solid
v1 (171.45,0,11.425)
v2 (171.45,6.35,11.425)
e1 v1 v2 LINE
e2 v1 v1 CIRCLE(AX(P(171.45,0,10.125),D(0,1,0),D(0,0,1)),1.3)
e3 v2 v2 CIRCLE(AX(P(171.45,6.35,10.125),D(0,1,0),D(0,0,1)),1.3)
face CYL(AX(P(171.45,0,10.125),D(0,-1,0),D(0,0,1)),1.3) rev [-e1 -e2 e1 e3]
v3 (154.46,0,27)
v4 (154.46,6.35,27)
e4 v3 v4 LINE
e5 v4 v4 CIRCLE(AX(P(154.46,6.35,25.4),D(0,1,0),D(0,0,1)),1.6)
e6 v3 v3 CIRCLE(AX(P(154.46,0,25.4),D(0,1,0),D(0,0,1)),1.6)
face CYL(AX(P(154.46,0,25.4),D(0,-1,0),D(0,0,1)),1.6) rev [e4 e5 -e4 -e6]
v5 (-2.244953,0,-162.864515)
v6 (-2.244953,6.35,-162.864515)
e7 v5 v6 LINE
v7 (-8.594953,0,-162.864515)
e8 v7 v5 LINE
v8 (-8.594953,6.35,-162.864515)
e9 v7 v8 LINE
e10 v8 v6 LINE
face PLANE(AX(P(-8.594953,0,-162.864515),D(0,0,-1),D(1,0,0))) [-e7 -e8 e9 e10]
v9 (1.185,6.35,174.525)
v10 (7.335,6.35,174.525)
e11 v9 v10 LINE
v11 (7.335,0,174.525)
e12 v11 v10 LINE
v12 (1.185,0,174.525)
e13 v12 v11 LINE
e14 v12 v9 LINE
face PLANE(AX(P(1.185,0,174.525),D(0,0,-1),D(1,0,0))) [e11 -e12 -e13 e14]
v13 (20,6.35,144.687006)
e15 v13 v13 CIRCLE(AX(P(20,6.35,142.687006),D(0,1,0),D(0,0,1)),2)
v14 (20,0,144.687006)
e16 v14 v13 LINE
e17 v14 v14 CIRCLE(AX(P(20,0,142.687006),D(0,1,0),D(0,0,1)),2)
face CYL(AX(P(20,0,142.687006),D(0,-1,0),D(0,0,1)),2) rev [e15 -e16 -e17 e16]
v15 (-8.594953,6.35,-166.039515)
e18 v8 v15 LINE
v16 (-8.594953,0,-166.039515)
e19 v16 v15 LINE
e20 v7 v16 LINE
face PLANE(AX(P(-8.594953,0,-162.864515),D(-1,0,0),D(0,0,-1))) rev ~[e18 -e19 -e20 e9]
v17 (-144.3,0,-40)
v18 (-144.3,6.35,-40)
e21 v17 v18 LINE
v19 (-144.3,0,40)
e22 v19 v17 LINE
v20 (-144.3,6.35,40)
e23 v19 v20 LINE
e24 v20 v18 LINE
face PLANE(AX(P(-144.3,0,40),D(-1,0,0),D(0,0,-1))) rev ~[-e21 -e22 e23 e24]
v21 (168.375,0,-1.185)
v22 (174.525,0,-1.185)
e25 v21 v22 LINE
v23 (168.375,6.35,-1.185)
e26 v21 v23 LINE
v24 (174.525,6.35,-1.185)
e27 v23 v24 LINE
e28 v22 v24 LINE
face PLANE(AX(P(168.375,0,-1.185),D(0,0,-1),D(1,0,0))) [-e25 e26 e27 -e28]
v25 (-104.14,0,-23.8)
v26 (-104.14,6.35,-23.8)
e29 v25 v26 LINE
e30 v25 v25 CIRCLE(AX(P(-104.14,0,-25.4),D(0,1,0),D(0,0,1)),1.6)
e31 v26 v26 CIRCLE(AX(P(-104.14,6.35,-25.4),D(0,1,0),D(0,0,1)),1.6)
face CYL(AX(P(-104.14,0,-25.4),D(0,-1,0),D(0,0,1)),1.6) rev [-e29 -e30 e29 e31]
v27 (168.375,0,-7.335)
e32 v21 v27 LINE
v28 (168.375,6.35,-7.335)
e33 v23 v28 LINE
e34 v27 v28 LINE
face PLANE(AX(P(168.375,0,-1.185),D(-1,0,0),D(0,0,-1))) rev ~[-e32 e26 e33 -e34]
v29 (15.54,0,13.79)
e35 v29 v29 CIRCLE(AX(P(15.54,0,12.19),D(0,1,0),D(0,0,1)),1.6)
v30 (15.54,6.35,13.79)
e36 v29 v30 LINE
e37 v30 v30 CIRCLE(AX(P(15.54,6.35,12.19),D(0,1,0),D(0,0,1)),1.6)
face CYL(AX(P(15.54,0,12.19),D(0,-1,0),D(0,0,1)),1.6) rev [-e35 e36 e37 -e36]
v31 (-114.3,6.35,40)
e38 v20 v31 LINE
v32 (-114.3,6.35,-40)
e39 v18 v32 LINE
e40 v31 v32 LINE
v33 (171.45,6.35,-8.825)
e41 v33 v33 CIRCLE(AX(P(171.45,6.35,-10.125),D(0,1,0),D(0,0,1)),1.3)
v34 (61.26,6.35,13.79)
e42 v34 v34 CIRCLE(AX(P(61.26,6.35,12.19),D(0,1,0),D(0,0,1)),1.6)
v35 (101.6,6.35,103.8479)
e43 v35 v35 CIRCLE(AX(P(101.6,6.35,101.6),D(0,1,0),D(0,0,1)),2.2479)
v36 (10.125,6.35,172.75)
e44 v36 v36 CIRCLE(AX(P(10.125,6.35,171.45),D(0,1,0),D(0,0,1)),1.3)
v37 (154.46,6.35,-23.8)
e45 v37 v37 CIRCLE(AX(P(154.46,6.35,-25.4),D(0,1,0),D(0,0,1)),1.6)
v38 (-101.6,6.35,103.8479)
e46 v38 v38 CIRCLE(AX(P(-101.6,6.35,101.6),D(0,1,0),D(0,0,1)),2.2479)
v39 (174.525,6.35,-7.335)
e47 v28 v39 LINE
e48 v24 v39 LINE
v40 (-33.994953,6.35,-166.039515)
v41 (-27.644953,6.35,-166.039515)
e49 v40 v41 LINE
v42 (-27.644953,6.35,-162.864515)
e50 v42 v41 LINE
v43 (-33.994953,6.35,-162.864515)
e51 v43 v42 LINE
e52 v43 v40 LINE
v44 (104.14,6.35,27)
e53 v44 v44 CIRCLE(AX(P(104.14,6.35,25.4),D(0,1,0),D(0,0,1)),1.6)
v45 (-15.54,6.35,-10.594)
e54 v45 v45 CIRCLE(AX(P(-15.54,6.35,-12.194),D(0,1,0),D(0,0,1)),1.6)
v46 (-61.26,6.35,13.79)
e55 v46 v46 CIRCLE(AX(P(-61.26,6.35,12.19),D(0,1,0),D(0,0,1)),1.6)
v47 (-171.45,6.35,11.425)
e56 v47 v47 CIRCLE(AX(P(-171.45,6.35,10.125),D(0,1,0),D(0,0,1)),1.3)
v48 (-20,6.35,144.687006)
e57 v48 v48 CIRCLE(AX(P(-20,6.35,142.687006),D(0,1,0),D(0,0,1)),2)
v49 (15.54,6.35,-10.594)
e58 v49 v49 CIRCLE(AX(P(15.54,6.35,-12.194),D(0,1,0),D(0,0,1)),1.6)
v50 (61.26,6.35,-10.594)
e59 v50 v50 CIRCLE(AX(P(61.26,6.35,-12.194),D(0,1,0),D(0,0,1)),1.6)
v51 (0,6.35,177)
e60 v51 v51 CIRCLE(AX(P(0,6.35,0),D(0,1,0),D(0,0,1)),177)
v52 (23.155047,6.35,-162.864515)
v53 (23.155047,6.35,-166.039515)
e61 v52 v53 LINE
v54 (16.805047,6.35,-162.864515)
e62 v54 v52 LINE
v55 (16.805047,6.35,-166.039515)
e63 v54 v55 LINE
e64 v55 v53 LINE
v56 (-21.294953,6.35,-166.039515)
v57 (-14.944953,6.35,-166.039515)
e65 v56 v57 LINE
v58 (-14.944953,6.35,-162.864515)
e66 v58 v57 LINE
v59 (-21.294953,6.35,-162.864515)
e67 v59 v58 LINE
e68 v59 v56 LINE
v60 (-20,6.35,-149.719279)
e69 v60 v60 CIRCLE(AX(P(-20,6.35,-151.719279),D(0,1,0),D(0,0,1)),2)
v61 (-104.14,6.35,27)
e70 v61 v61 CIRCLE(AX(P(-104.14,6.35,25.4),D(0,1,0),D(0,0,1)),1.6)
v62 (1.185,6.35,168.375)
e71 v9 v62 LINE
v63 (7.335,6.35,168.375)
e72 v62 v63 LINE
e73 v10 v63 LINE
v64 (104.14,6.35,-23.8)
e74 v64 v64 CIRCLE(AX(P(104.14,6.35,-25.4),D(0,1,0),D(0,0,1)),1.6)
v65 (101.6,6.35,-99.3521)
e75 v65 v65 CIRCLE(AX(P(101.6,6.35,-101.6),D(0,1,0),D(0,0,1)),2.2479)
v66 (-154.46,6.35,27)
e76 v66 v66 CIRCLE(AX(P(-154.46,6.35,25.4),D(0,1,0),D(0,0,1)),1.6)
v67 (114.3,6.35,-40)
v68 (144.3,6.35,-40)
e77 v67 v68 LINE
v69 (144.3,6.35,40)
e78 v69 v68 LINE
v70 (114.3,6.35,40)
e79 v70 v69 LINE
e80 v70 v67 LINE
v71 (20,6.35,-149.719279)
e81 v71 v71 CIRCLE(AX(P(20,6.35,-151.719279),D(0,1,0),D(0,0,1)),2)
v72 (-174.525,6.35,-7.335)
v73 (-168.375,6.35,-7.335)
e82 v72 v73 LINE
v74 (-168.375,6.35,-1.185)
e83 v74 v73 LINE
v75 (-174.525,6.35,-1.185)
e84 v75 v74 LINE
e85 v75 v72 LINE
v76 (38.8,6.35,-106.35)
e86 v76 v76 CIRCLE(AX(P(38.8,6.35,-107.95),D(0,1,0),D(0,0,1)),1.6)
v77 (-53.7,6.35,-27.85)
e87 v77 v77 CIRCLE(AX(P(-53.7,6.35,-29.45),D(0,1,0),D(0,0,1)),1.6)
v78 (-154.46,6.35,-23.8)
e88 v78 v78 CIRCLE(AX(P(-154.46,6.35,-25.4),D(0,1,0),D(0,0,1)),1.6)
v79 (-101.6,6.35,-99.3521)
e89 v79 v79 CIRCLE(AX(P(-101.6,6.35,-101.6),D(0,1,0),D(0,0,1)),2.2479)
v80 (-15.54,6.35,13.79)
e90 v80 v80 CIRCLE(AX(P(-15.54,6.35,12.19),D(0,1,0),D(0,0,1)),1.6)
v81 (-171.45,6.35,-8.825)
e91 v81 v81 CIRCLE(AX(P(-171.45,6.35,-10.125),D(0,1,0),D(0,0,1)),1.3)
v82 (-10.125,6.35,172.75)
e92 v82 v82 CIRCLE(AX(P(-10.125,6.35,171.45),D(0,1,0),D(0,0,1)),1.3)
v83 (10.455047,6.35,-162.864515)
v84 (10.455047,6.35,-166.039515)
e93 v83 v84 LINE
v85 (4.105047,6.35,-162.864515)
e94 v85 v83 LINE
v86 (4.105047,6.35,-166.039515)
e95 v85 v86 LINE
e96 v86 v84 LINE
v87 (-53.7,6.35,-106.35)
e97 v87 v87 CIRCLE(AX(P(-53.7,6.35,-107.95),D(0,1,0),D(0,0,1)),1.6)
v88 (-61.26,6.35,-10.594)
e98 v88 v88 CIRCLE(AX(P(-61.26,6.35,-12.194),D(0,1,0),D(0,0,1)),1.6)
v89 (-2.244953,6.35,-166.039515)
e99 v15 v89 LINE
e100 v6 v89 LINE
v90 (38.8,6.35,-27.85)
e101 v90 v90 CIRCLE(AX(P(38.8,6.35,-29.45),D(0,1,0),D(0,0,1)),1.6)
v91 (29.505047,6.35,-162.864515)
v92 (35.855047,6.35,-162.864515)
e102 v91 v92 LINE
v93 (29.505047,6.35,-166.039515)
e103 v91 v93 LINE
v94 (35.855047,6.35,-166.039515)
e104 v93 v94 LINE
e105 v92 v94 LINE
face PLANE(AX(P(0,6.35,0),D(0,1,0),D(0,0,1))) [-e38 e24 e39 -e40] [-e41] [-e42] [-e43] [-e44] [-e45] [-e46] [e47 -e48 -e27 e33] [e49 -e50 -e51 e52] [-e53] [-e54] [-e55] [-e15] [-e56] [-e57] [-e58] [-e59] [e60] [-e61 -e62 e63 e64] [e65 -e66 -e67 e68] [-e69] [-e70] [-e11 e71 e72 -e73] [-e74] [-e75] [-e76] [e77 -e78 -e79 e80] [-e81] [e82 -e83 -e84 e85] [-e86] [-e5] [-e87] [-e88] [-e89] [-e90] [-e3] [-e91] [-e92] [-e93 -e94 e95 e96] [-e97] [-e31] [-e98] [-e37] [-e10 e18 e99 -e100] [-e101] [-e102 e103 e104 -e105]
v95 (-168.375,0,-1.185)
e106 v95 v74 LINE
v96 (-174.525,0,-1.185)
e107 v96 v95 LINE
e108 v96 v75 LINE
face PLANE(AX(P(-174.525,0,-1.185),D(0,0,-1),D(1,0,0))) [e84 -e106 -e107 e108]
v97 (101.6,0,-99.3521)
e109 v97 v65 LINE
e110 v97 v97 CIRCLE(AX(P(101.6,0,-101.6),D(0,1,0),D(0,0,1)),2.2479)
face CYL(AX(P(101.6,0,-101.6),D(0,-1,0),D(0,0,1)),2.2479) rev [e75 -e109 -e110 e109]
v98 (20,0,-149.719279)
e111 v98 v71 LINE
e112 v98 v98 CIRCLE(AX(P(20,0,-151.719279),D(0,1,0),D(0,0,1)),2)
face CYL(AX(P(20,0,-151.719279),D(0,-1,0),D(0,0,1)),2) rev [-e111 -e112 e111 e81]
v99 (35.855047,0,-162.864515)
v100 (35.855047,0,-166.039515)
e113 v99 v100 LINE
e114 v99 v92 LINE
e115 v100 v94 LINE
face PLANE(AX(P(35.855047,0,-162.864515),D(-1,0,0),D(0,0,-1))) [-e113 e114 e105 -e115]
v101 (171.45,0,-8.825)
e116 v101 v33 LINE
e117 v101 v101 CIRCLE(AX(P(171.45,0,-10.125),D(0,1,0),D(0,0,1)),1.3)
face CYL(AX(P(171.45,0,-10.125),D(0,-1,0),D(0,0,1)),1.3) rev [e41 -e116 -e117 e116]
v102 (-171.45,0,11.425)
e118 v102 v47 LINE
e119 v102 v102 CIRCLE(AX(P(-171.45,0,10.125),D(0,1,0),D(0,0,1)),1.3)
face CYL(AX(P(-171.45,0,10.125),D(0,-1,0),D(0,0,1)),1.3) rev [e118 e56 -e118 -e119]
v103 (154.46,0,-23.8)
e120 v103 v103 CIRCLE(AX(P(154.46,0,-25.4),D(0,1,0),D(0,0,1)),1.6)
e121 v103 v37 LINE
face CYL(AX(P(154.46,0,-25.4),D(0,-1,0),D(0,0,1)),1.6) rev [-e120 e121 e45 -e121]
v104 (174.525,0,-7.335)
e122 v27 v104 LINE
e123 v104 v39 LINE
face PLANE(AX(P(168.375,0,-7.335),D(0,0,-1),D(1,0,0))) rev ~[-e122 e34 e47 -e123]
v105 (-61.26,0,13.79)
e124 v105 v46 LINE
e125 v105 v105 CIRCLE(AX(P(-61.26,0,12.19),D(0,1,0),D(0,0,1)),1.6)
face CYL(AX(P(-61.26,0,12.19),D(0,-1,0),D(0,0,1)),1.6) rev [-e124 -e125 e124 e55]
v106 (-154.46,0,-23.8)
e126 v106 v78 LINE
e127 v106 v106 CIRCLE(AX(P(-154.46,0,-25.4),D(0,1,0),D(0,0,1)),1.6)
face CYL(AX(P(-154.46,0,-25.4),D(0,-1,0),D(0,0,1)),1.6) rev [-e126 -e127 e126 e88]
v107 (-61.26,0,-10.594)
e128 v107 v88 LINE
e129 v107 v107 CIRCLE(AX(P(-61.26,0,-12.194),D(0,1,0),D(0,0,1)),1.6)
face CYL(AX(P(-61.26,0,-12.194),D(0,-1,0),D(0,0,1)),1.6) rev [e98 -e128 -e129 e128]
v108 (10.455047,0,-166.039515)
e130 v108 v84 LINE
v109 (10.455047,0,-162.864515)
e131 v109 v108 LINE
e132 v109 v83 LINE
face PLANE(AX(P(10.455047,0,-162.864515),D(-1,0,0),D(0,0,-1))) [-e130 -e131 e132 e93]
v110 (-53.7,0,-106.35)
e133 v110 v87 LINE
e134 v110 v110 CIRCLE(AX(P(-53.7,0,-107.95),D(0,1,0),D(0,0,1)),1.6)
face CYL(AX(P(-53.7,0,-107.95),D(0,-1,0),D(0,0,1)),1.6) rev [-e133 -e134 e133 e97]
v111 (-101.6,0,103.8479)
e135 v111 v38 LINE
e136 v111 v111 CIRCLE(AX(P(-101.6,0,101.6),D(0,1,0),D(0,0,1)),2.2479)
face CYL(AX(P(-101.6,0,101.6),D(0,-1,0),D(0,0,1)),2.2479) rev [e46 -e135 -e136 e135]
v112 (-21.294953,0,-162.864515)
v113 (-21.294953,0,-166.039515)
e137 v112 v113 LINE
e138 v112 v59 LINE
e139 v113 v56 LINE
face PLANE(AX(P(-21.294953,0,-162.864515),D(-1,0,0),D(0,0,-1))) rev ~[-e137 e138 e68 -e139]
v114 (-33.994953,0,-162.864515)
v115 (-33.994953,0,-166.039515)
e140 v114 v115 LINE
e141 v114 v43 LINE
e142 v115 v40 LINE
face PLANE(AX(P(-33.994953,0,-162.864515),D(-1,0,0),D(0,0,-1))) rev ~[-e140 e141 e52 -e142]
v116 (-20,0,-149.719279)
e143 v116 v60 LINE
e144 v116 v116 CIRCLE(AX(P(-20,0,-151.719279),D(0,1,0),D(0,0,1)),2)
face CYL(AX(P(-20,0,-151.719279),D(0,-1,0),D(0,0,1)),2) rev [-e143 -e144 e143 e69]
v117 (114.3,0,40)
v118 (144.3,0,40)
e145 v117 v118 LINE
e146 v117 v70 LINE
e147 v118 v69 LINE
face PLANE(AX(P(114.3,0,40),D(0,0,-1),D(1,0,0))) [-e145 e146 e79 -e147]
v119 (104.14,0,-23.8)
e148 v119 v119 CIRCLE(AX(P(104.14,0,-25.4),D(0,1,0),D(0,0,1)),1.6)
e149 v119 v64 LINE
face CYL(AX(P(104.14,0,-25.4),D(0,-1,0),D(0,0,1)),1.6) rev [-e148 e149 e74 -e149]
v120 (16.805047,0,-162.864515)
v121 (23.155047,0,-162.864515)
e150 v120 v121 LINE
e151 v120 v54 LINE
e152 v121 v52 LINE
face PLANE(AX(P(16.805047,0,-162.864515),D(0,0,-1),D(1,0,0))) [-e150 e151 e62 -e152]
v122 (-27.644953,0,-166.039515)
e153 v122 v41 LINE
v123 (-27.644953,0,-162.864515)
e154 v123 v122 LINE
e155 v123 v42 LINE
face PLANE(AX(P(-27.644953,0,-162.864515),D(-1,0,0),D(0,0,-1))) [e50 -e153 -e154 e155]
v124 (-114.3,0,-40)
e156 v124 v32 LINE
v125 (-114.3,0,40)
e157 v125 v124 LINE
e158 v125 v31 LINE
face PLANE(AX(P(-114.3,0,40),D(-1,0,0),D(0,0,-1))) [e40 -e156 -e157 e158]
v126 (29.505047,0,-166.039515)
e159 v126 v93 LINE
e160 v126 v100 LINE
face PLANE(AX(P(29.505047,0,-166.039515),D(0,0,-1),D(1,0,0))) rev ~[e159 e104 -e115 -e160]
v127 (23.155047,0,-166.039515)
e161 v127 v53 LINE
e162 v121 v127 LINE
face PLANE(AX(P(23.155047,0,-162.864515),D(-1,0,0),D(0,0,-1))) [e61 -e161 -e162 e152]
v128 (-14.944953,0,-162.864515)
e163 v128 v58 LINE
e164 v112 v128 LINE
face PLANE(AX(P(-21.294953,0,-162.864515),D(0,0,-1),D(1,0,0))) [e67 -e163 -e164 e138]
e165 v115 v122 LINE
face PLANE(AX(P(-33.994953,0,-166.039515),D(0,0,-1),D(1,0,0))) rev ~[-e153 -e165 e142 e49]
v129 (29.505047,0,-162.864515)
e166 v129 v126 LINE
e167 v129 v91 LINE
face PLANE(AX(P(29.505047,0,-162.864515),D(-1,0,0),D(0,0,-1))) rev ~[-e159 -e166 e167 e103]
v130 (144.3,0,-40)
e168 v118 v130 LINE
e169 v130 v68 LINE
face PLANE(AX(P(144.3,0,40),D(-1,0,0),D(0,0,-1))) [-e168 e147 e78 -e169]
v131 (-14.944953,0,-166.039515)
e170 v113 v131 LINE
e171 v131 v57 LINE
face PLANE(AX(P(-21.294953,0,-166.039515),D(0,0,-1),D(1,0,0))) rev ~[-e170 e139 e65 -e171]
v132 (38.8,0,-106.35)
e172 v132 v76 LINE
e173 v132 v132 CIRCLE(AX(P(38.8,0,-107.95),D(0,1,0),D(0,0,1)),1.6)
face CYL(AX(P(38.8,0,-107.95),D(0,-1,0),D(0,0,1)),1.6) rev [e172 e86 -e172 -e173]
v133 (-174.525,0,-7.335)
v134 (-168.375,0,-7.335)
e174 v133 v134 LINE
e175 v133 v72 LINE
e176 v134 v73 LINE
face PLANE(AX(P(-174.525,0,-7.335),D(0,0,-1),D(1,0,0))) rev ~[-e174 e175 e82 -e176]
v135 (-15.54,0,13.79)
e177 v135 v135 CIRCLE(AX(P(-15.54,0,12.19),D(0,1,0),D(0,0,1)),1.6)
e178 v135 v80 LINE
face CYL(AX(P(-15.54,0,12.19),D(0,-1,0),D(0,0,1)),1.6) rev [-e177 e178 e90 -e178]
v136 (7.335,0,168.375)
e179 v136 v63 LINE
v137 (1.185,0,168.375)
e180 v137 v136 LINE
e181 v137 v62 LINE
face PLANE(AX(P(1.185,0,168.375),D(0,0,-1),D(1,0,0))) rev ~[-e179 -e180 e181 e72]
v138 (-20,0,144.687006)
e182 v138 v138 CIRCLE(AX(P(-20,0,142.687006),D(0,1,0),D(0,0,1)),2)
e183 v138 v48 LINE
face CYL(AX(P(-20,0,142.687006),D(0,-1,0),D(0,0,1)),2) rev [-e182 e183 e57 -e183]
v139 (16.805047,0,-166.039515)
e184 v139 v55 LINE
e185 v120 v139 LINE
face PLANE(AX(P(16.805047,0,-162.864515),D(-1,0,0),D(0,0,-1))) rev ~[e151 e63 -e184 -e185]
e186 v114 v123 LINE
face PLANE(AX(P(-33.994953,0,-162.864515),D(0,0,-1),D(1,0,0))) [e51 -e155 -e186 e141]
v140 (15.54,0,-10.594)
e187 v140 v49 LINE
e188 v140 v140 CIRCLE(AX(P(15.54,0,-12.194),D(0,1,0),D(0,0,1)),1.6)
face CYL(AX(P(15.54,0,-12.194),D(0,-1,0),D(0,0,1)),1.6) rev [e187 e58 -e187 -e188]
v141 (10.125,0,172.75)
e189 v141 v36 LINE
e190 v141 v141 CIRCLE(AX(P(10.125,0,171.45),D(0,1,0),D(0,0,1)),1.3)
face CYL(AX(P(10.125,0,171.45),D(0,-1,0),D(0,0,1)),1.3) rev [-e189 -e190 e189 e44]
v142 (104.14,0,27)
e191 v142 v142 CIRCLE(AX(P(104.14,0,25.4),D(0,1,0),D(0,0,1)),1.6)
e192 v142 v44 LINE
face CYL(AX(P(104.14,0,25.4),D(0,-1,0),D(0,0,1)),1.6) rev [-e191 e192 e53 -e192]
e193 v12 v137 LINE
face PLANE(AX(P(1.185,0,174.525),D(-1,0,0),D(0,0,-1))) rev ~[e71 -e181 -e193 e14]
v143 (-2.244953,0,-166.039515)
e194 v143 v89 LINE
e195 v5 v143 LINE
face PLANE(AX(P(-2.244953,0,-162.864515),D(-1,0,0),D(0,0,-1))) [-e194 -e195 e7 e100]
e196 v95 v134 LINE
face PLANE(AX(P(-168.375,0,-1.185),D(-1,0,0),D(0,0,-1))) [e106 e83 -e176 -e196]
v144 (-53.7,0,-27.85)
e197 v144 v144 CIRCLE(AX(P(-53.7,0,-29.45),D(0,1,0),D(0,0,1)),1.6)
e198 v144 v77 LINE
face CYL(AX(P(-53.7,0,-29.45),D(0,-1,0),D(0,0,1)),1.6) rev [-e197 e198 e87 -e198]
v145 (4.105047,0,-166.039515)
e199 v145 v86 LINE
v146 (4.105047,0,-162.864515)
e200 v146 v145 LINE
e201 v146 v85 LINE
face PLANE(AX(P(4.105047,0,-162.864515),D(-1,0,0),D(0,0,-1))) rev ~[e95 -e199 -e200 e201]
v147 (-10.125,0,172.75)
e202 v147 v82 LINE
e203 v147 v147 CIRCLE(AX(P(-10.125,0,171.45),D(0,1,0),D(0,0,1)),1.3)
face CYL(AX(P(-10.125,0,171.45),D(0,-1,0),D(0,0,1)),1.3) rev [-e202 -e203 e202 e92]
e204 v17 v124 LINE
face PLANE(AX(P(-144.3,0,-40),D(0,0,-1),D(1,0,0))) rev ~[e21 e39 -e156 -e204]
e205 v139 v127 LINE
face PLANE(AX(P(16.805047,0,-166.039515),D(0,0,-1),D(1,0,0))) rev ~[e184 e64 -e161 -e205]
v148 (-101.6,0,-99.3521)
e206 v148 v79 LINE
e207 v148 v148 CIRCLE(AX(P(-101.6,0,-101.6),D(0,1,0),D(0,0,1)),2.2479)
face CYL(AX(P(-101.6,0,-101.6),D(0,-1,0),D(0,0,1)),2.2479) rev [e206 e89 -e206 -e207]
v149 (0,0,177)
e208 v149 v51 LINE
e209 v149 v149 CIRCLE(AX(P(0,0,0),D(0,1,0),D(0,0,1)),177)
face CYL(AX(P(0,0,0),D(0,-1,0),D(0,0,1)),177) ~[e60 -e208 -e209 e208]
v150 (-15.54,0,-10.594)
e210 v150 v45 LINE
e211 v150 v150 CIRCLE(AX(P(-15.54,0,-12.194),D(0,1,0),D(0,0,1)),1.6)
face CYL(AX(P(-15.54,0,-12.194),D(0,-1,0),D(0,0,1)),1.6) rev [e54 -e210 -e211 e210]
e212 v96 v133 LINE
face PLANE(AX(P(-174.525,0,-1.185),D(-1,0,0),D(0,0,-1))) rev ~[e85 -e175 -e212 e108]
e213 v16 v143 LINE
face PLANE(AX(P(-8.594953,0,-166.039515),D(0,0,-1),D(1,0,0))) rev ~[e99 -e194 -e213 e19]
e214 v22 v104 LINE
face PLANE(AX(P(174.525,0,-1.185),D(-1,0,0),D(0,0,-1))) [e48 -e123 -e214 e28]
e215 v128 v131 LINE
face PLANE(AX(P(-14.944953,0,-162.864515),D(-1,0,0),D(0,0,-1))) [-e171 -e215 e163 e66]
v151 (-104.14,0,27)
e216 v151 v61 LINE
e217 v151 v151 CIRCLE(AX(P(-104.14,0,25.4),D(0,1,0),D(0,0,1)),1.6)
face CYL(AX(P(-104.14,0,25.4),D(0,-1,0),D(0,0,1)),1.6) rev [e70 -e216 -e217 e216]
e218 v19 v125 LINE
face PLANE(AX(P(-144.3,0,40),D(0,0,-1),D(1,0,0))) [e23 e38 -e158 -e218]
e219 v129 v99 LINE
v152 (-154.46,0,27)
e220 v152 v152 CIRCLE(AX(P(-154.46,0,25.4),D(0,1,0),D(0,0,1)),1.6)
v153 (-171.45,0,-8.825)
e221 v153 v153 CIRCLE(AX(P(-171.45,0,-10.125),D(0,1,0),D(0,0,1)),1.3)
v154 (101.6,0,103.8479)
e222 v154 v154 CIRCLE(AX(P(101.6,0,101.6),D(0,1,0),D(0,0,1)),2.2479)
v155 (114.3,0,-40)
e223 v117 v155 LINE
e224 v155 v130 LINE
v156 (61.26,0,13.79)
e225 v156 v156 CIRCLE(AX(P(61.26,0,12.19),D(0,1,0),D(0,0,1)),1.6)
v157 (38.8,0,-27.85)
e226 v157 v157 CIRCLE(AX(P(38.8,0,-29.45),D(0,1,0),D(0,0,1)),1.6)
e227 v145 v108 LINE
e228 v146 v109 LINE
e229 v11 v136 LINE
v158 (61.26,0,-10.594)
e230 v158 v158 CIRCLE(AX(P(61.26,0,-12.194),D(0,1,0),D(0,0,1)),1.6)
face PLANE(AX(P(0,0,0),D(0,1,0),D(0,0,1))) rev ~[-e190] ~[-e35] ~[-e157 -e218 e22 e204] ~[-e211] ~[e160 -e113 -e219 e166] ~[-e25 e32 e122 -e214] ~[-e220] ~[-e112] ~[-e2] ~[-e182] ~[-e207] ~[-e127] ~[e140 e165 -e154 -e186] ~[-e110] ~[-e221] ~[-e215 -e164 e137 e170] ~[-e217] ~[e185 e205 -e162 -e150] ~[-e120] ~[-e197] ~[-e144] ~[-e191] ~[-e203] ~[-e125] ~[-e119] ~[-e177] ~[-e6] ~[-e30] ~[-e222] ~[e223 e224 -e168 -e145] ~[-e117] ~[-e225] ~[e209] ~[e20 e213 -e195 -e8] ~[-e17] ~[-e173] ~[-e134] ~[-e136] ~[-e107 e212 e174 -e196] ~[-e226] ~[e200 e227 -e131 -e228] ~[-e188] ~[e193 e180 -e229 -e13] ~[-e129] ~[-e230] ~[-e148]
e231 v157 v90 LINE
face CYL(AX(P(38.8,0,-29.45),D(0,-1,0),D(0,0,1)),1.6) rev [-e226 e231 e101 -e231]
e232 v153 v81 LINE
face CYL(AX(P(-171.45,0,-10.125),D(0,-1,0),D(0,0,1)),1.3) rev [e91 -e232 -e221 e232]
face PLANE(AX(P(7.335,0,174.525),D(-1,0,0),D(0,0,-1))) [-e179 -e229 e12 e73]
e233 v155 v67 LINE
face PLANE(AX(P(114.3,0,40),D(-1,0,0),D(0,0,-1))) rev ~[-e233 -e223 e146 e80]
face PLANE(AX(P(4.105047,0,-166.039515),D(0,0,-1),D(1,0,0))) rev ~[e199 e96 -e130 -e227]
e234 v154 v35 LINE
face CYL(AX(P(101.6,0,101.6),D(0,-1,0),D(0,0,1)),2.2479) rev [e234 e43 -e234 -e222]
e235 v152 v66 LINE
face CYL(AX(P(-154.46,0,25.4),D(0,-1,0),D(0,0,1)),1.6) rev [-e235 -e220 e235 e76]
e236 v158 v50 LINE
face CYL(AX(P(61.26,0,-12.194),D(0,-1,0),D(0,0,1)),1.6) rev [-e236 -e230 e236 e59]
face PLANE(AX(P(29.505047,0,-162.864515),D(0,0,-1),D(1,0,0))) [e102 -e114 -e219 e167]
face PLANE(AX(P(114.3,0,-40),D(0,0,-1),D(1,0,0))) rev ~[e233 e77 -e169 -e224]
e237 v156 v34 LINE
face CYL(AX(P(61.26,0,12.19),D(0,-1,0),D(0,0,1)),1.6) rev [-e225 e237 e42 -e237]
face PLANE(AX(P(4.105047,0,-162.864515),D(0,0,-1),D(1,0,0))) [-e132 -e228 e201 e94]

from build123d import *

# Parameters (mm, degrees)
SKETCH1_R           = 177
SKETCH1_R_2         = 1.6
SKETCH1_R_3         = 2.2479
SKETCH1_R_4         = 2.000000064
SKETCH1_R_5         = 1.3
SKETCH1_R_6         = 1.29999994
SKETCH1_W           = 6.15
SKETCH1_H           = 6.15
SKETCH1_W_2         = 30
SKETCH1_H_2         = 80
SKETCH1_W_3         = 6.35
SKETCH1_H_3         = 3.175
BOSS_EXTRUDE1_DEPTH = 6.35


with BuildPart() as part:
    # Sketch1 → Boss-Extrude1 (new body)
    with BuildSketch(Plane(origin=(0, 0, 0), x_dir=(1, 0, 0), z_dir=(0, 1, 0))):
        with Locations(Location((0, 0, 0), (0, 0, 270))):
            Circle(SKETCH1_R)
        with Locations(Location((-154.46, 25.4, 0), (0, 0, 270))):
            Circle(SKETCH1_R_2, mode=Mode.SUBTRACT)
        with Locations(Location((-154.46, -25.4, 0), (0, 0, 270))):
            Circle(SKETCH1_R_2, mode=Mode.SUBTRACT)
        with Locations(Location((154.46, 25.4, 0), (0, 0, 270))):
            Circle(SKETCH1_R_2, mode=Mode.SUBTRACT)
        with Locations(Location((154.46, -25.4, 0), (0, 0, 270))):
            Circle(SKETCH1_R_2, mode=Mode.SUBTRACT)
        with Locations(Location((-104.14, 25.4, 0), (0, 0, 270))):
            Circle(SKETCH1_R_2, mode=Mode.SUBTRACT)
        with Locations(Location((-104.14, -25.4, 0), (0, 0, 270))):
            Circle(SKETCH1_R_2, mode=Mode.SUBTRACT)
        with Locations(Location((104.14, 25.4, 0), (0, 0, 270))):
            Circle(SKETCH1_R_2, mode=Mode.SUBTRACT)
        with Locations(Location((104.14, -25.4, 0), (0, 0, 270))):
            Circle(SKETCH1_R_2, mode=Mode.SUBTRACT)
        with Locations(Location((-53.7, 107.95, 0), (0, 0, 270))):
            Circle(SKETCH1_R_2, mode=Mode.SUBTRACT)
        with Locations(Location((38.8, 107.95, 0), (0, 0, 270))):
            Circle(SKETCH1_R_2, mode=Mode.SUBTRACT)
        with Locations(Location((-53.7, 29.45, 0), (0, 0, 270))):
            Circle(SKETCH1_R_2, mode=Mode.SUBTRACT)
        with Locations(Location((38.8, 29.45, 0), (0, 0, 270))):
            Circle(SKETCH1_R_2, mode=Mode.SUBTRACT)
        with Locations(Location((-101.6, -101.6, 0), (0, 0, 270))):
            Circle(SKETCH1_R_3, mode=Mode.SUBTRACT)
        with Locations(Location((101.6, -101.6, 0), (0, 0, 270))):
            Circle(SKETCH1_R_3, mode=Mode.SUBTRACT)
        with Locations(Location((-101.6, 101.6, 0), (0, 0, 270))):
            Circle(SKETCH1_R_3, mode=Mode.SUBTRACT)
        with Locations(Location((101.6, 101.6, 0), (0, 0, 270))):
            Circle(SKETCH1_R_3, mode=Mode.SUBTRACT)
        with Locations(Location((-20, -142.687006289, 0), (0, 0, 270))):
            Circle(SKETCH1_R_4, mode=Mode.SUBTRACT)
        with Locations(Location((20, -142.687006289, 0), (0, 0, 270))):
            Circle(SKETCH1_R_4, mode=Mode.SUBTRACT)
        with Locations(Location((-20, 151.719279026, 0), (0, 0, 270))):
            Circle(SKETCH1_R_4, mode=Mode.SUBTRACT)
        with Locations(Location((20, 151.719279026, 0), (0, 0, 270))):
            Circle(SKETCH1_R_4, mode=Mode.SUBTRACT)
        with Locations(Location((-10.125, -171.45, 0), (0, 0, 270))):
            Circle(SKETCH1_R_5, mode=Mode.SUBTRACT)
        with Locations(Location((10.125, -171.45, 0), (0, 0, 270))):
            Circle(SKETCH1_R_6, mode=Mode.SUBTRACT)
        with Locations(Location((171.45, -10.125, 0), (0, 0, 270))):
            Circle(SKETCH1_R_5, mode=Mode.SUBTRACT)
        with Locations(Location((171.45, 10.125, 0), (0, 0, 270))):
            Circle(SKETCH1_R_5, mode=Mode.SUBTRACT)
        with Locations(Location((-171.45, -10.125, 0), (0, 0, 270))):
            Circle(SKETCH1_R_5, mode=Mode.SUBTRACT)
        with Locations(Location((-171.45, 10.125, 0), (0, 0, 270))):
            Circle(SKETCH1_R_5, mode=Mode.SUBTRACT)
        with Locations(Location((-61.26, 12.194, 0), (0, 0, 270))):
            Circle(SKETCH1_R_2, mode=Mode.SUBTRACT)
        with Locations(Location((-61.26, -12.19, 0), (0, 0, 270))):
            Circle(SKETCH1_R_2, mode=Mode.SUBTRACT)
        with Locations(Location((-15.54, 12.194, 0), (0, 0, 270))):
            Circle(SKETCH1_R_2, mode=Mode.SUBTRACT)
        with Locations(Location((-15.54, -12.19, 0), (0, 0, 270))):
            Circle(SKETCH1_R_2, mode=Mode.SUBTRACT)
        with Locations(Location((61.26, -12.19, 0), (0, 0, 270))):
            Circle(SKETCH1_R_2, mode=Mode.SUBTRACT)
        with Locations(Location((15.54, -12.19, 0), (0, 0, 270))):
            Circle(SKETCH1_R_2, mode=Mode.SUBTRACT)
        with Locations(Location((15.54, 12.194, 0), (0, 0, 270))):
            Circle(SKETCH1_R_2, mode=Mode.SUBTRACT)
        with Locations(Location((61.26, 12.194, 0), (0, 0, 270))):
            Circle(SKETCH1_R_2, mode=Mode.SUBTRACT)
        with Locations((171.45, 4.26)):
            Rectangle(SKETCH1_W, SKETCH1_H, mode=Mode.SUBTRACT)
        with Locations((-129.3, 0)):
            Rectangle(SKETCH1_W_2, SKETCH1_H_2, mode=Mode.SUBTRACT)
        with Locations((129.3, 0)):
            Rectangle(SKETCH1_W_2, SKETCH1_H_2, mode=Mode.SUBTRACT)
        with Locations((4.26, -171.45)):
            Rectangle(SKETCH1_W, SKETCH1_H, mode=Mode.SUBTRACT)
        with Locations((-171.45, 4.26)):
            Rectangle(SKETCH1_W, SKETCH1_H, mode=Mode.SUBTRACT)
        with Locations((-18.119952608, 164.452014647)):
            Rectangle(SKETCH1_W_3, SKETCH1_H_3, mode=Mode.SUBTRACT)
        with Locations((-30.819952608, 164.452014647)):
            Rectangle(SKETCH1_W_3, SKETCH1_H_3, mode=Mode.SUBTRACT)
        with Locations((-5.419952608, 164.452014647)):
            Rectangle(SKETCH1_W_3, SKETCH1_H_3, mode=Mode.SUBTRACT)
        with Locations((7.280047392, 164.452014647)):
            Rectangle(SKETCH1_W_3, SKETCH1_H_3, mode=Mode.SUBTRACT)
        with Locations((19.980047392, 164.452014647)):
            Rectangle(SKETCH1_W_3, SKETCH1_H_3, mode=Mode.SUBTRACT)
        with Locations((32.680047392, 164.452014647)):
            Rectangle(SKETCH1_W_3, SKETCH1_H_3, mode=Mode.SUBTRACT)
    extrude(amount=BOSS_EXTRUDE1_DEPTH)


solid = part.part
